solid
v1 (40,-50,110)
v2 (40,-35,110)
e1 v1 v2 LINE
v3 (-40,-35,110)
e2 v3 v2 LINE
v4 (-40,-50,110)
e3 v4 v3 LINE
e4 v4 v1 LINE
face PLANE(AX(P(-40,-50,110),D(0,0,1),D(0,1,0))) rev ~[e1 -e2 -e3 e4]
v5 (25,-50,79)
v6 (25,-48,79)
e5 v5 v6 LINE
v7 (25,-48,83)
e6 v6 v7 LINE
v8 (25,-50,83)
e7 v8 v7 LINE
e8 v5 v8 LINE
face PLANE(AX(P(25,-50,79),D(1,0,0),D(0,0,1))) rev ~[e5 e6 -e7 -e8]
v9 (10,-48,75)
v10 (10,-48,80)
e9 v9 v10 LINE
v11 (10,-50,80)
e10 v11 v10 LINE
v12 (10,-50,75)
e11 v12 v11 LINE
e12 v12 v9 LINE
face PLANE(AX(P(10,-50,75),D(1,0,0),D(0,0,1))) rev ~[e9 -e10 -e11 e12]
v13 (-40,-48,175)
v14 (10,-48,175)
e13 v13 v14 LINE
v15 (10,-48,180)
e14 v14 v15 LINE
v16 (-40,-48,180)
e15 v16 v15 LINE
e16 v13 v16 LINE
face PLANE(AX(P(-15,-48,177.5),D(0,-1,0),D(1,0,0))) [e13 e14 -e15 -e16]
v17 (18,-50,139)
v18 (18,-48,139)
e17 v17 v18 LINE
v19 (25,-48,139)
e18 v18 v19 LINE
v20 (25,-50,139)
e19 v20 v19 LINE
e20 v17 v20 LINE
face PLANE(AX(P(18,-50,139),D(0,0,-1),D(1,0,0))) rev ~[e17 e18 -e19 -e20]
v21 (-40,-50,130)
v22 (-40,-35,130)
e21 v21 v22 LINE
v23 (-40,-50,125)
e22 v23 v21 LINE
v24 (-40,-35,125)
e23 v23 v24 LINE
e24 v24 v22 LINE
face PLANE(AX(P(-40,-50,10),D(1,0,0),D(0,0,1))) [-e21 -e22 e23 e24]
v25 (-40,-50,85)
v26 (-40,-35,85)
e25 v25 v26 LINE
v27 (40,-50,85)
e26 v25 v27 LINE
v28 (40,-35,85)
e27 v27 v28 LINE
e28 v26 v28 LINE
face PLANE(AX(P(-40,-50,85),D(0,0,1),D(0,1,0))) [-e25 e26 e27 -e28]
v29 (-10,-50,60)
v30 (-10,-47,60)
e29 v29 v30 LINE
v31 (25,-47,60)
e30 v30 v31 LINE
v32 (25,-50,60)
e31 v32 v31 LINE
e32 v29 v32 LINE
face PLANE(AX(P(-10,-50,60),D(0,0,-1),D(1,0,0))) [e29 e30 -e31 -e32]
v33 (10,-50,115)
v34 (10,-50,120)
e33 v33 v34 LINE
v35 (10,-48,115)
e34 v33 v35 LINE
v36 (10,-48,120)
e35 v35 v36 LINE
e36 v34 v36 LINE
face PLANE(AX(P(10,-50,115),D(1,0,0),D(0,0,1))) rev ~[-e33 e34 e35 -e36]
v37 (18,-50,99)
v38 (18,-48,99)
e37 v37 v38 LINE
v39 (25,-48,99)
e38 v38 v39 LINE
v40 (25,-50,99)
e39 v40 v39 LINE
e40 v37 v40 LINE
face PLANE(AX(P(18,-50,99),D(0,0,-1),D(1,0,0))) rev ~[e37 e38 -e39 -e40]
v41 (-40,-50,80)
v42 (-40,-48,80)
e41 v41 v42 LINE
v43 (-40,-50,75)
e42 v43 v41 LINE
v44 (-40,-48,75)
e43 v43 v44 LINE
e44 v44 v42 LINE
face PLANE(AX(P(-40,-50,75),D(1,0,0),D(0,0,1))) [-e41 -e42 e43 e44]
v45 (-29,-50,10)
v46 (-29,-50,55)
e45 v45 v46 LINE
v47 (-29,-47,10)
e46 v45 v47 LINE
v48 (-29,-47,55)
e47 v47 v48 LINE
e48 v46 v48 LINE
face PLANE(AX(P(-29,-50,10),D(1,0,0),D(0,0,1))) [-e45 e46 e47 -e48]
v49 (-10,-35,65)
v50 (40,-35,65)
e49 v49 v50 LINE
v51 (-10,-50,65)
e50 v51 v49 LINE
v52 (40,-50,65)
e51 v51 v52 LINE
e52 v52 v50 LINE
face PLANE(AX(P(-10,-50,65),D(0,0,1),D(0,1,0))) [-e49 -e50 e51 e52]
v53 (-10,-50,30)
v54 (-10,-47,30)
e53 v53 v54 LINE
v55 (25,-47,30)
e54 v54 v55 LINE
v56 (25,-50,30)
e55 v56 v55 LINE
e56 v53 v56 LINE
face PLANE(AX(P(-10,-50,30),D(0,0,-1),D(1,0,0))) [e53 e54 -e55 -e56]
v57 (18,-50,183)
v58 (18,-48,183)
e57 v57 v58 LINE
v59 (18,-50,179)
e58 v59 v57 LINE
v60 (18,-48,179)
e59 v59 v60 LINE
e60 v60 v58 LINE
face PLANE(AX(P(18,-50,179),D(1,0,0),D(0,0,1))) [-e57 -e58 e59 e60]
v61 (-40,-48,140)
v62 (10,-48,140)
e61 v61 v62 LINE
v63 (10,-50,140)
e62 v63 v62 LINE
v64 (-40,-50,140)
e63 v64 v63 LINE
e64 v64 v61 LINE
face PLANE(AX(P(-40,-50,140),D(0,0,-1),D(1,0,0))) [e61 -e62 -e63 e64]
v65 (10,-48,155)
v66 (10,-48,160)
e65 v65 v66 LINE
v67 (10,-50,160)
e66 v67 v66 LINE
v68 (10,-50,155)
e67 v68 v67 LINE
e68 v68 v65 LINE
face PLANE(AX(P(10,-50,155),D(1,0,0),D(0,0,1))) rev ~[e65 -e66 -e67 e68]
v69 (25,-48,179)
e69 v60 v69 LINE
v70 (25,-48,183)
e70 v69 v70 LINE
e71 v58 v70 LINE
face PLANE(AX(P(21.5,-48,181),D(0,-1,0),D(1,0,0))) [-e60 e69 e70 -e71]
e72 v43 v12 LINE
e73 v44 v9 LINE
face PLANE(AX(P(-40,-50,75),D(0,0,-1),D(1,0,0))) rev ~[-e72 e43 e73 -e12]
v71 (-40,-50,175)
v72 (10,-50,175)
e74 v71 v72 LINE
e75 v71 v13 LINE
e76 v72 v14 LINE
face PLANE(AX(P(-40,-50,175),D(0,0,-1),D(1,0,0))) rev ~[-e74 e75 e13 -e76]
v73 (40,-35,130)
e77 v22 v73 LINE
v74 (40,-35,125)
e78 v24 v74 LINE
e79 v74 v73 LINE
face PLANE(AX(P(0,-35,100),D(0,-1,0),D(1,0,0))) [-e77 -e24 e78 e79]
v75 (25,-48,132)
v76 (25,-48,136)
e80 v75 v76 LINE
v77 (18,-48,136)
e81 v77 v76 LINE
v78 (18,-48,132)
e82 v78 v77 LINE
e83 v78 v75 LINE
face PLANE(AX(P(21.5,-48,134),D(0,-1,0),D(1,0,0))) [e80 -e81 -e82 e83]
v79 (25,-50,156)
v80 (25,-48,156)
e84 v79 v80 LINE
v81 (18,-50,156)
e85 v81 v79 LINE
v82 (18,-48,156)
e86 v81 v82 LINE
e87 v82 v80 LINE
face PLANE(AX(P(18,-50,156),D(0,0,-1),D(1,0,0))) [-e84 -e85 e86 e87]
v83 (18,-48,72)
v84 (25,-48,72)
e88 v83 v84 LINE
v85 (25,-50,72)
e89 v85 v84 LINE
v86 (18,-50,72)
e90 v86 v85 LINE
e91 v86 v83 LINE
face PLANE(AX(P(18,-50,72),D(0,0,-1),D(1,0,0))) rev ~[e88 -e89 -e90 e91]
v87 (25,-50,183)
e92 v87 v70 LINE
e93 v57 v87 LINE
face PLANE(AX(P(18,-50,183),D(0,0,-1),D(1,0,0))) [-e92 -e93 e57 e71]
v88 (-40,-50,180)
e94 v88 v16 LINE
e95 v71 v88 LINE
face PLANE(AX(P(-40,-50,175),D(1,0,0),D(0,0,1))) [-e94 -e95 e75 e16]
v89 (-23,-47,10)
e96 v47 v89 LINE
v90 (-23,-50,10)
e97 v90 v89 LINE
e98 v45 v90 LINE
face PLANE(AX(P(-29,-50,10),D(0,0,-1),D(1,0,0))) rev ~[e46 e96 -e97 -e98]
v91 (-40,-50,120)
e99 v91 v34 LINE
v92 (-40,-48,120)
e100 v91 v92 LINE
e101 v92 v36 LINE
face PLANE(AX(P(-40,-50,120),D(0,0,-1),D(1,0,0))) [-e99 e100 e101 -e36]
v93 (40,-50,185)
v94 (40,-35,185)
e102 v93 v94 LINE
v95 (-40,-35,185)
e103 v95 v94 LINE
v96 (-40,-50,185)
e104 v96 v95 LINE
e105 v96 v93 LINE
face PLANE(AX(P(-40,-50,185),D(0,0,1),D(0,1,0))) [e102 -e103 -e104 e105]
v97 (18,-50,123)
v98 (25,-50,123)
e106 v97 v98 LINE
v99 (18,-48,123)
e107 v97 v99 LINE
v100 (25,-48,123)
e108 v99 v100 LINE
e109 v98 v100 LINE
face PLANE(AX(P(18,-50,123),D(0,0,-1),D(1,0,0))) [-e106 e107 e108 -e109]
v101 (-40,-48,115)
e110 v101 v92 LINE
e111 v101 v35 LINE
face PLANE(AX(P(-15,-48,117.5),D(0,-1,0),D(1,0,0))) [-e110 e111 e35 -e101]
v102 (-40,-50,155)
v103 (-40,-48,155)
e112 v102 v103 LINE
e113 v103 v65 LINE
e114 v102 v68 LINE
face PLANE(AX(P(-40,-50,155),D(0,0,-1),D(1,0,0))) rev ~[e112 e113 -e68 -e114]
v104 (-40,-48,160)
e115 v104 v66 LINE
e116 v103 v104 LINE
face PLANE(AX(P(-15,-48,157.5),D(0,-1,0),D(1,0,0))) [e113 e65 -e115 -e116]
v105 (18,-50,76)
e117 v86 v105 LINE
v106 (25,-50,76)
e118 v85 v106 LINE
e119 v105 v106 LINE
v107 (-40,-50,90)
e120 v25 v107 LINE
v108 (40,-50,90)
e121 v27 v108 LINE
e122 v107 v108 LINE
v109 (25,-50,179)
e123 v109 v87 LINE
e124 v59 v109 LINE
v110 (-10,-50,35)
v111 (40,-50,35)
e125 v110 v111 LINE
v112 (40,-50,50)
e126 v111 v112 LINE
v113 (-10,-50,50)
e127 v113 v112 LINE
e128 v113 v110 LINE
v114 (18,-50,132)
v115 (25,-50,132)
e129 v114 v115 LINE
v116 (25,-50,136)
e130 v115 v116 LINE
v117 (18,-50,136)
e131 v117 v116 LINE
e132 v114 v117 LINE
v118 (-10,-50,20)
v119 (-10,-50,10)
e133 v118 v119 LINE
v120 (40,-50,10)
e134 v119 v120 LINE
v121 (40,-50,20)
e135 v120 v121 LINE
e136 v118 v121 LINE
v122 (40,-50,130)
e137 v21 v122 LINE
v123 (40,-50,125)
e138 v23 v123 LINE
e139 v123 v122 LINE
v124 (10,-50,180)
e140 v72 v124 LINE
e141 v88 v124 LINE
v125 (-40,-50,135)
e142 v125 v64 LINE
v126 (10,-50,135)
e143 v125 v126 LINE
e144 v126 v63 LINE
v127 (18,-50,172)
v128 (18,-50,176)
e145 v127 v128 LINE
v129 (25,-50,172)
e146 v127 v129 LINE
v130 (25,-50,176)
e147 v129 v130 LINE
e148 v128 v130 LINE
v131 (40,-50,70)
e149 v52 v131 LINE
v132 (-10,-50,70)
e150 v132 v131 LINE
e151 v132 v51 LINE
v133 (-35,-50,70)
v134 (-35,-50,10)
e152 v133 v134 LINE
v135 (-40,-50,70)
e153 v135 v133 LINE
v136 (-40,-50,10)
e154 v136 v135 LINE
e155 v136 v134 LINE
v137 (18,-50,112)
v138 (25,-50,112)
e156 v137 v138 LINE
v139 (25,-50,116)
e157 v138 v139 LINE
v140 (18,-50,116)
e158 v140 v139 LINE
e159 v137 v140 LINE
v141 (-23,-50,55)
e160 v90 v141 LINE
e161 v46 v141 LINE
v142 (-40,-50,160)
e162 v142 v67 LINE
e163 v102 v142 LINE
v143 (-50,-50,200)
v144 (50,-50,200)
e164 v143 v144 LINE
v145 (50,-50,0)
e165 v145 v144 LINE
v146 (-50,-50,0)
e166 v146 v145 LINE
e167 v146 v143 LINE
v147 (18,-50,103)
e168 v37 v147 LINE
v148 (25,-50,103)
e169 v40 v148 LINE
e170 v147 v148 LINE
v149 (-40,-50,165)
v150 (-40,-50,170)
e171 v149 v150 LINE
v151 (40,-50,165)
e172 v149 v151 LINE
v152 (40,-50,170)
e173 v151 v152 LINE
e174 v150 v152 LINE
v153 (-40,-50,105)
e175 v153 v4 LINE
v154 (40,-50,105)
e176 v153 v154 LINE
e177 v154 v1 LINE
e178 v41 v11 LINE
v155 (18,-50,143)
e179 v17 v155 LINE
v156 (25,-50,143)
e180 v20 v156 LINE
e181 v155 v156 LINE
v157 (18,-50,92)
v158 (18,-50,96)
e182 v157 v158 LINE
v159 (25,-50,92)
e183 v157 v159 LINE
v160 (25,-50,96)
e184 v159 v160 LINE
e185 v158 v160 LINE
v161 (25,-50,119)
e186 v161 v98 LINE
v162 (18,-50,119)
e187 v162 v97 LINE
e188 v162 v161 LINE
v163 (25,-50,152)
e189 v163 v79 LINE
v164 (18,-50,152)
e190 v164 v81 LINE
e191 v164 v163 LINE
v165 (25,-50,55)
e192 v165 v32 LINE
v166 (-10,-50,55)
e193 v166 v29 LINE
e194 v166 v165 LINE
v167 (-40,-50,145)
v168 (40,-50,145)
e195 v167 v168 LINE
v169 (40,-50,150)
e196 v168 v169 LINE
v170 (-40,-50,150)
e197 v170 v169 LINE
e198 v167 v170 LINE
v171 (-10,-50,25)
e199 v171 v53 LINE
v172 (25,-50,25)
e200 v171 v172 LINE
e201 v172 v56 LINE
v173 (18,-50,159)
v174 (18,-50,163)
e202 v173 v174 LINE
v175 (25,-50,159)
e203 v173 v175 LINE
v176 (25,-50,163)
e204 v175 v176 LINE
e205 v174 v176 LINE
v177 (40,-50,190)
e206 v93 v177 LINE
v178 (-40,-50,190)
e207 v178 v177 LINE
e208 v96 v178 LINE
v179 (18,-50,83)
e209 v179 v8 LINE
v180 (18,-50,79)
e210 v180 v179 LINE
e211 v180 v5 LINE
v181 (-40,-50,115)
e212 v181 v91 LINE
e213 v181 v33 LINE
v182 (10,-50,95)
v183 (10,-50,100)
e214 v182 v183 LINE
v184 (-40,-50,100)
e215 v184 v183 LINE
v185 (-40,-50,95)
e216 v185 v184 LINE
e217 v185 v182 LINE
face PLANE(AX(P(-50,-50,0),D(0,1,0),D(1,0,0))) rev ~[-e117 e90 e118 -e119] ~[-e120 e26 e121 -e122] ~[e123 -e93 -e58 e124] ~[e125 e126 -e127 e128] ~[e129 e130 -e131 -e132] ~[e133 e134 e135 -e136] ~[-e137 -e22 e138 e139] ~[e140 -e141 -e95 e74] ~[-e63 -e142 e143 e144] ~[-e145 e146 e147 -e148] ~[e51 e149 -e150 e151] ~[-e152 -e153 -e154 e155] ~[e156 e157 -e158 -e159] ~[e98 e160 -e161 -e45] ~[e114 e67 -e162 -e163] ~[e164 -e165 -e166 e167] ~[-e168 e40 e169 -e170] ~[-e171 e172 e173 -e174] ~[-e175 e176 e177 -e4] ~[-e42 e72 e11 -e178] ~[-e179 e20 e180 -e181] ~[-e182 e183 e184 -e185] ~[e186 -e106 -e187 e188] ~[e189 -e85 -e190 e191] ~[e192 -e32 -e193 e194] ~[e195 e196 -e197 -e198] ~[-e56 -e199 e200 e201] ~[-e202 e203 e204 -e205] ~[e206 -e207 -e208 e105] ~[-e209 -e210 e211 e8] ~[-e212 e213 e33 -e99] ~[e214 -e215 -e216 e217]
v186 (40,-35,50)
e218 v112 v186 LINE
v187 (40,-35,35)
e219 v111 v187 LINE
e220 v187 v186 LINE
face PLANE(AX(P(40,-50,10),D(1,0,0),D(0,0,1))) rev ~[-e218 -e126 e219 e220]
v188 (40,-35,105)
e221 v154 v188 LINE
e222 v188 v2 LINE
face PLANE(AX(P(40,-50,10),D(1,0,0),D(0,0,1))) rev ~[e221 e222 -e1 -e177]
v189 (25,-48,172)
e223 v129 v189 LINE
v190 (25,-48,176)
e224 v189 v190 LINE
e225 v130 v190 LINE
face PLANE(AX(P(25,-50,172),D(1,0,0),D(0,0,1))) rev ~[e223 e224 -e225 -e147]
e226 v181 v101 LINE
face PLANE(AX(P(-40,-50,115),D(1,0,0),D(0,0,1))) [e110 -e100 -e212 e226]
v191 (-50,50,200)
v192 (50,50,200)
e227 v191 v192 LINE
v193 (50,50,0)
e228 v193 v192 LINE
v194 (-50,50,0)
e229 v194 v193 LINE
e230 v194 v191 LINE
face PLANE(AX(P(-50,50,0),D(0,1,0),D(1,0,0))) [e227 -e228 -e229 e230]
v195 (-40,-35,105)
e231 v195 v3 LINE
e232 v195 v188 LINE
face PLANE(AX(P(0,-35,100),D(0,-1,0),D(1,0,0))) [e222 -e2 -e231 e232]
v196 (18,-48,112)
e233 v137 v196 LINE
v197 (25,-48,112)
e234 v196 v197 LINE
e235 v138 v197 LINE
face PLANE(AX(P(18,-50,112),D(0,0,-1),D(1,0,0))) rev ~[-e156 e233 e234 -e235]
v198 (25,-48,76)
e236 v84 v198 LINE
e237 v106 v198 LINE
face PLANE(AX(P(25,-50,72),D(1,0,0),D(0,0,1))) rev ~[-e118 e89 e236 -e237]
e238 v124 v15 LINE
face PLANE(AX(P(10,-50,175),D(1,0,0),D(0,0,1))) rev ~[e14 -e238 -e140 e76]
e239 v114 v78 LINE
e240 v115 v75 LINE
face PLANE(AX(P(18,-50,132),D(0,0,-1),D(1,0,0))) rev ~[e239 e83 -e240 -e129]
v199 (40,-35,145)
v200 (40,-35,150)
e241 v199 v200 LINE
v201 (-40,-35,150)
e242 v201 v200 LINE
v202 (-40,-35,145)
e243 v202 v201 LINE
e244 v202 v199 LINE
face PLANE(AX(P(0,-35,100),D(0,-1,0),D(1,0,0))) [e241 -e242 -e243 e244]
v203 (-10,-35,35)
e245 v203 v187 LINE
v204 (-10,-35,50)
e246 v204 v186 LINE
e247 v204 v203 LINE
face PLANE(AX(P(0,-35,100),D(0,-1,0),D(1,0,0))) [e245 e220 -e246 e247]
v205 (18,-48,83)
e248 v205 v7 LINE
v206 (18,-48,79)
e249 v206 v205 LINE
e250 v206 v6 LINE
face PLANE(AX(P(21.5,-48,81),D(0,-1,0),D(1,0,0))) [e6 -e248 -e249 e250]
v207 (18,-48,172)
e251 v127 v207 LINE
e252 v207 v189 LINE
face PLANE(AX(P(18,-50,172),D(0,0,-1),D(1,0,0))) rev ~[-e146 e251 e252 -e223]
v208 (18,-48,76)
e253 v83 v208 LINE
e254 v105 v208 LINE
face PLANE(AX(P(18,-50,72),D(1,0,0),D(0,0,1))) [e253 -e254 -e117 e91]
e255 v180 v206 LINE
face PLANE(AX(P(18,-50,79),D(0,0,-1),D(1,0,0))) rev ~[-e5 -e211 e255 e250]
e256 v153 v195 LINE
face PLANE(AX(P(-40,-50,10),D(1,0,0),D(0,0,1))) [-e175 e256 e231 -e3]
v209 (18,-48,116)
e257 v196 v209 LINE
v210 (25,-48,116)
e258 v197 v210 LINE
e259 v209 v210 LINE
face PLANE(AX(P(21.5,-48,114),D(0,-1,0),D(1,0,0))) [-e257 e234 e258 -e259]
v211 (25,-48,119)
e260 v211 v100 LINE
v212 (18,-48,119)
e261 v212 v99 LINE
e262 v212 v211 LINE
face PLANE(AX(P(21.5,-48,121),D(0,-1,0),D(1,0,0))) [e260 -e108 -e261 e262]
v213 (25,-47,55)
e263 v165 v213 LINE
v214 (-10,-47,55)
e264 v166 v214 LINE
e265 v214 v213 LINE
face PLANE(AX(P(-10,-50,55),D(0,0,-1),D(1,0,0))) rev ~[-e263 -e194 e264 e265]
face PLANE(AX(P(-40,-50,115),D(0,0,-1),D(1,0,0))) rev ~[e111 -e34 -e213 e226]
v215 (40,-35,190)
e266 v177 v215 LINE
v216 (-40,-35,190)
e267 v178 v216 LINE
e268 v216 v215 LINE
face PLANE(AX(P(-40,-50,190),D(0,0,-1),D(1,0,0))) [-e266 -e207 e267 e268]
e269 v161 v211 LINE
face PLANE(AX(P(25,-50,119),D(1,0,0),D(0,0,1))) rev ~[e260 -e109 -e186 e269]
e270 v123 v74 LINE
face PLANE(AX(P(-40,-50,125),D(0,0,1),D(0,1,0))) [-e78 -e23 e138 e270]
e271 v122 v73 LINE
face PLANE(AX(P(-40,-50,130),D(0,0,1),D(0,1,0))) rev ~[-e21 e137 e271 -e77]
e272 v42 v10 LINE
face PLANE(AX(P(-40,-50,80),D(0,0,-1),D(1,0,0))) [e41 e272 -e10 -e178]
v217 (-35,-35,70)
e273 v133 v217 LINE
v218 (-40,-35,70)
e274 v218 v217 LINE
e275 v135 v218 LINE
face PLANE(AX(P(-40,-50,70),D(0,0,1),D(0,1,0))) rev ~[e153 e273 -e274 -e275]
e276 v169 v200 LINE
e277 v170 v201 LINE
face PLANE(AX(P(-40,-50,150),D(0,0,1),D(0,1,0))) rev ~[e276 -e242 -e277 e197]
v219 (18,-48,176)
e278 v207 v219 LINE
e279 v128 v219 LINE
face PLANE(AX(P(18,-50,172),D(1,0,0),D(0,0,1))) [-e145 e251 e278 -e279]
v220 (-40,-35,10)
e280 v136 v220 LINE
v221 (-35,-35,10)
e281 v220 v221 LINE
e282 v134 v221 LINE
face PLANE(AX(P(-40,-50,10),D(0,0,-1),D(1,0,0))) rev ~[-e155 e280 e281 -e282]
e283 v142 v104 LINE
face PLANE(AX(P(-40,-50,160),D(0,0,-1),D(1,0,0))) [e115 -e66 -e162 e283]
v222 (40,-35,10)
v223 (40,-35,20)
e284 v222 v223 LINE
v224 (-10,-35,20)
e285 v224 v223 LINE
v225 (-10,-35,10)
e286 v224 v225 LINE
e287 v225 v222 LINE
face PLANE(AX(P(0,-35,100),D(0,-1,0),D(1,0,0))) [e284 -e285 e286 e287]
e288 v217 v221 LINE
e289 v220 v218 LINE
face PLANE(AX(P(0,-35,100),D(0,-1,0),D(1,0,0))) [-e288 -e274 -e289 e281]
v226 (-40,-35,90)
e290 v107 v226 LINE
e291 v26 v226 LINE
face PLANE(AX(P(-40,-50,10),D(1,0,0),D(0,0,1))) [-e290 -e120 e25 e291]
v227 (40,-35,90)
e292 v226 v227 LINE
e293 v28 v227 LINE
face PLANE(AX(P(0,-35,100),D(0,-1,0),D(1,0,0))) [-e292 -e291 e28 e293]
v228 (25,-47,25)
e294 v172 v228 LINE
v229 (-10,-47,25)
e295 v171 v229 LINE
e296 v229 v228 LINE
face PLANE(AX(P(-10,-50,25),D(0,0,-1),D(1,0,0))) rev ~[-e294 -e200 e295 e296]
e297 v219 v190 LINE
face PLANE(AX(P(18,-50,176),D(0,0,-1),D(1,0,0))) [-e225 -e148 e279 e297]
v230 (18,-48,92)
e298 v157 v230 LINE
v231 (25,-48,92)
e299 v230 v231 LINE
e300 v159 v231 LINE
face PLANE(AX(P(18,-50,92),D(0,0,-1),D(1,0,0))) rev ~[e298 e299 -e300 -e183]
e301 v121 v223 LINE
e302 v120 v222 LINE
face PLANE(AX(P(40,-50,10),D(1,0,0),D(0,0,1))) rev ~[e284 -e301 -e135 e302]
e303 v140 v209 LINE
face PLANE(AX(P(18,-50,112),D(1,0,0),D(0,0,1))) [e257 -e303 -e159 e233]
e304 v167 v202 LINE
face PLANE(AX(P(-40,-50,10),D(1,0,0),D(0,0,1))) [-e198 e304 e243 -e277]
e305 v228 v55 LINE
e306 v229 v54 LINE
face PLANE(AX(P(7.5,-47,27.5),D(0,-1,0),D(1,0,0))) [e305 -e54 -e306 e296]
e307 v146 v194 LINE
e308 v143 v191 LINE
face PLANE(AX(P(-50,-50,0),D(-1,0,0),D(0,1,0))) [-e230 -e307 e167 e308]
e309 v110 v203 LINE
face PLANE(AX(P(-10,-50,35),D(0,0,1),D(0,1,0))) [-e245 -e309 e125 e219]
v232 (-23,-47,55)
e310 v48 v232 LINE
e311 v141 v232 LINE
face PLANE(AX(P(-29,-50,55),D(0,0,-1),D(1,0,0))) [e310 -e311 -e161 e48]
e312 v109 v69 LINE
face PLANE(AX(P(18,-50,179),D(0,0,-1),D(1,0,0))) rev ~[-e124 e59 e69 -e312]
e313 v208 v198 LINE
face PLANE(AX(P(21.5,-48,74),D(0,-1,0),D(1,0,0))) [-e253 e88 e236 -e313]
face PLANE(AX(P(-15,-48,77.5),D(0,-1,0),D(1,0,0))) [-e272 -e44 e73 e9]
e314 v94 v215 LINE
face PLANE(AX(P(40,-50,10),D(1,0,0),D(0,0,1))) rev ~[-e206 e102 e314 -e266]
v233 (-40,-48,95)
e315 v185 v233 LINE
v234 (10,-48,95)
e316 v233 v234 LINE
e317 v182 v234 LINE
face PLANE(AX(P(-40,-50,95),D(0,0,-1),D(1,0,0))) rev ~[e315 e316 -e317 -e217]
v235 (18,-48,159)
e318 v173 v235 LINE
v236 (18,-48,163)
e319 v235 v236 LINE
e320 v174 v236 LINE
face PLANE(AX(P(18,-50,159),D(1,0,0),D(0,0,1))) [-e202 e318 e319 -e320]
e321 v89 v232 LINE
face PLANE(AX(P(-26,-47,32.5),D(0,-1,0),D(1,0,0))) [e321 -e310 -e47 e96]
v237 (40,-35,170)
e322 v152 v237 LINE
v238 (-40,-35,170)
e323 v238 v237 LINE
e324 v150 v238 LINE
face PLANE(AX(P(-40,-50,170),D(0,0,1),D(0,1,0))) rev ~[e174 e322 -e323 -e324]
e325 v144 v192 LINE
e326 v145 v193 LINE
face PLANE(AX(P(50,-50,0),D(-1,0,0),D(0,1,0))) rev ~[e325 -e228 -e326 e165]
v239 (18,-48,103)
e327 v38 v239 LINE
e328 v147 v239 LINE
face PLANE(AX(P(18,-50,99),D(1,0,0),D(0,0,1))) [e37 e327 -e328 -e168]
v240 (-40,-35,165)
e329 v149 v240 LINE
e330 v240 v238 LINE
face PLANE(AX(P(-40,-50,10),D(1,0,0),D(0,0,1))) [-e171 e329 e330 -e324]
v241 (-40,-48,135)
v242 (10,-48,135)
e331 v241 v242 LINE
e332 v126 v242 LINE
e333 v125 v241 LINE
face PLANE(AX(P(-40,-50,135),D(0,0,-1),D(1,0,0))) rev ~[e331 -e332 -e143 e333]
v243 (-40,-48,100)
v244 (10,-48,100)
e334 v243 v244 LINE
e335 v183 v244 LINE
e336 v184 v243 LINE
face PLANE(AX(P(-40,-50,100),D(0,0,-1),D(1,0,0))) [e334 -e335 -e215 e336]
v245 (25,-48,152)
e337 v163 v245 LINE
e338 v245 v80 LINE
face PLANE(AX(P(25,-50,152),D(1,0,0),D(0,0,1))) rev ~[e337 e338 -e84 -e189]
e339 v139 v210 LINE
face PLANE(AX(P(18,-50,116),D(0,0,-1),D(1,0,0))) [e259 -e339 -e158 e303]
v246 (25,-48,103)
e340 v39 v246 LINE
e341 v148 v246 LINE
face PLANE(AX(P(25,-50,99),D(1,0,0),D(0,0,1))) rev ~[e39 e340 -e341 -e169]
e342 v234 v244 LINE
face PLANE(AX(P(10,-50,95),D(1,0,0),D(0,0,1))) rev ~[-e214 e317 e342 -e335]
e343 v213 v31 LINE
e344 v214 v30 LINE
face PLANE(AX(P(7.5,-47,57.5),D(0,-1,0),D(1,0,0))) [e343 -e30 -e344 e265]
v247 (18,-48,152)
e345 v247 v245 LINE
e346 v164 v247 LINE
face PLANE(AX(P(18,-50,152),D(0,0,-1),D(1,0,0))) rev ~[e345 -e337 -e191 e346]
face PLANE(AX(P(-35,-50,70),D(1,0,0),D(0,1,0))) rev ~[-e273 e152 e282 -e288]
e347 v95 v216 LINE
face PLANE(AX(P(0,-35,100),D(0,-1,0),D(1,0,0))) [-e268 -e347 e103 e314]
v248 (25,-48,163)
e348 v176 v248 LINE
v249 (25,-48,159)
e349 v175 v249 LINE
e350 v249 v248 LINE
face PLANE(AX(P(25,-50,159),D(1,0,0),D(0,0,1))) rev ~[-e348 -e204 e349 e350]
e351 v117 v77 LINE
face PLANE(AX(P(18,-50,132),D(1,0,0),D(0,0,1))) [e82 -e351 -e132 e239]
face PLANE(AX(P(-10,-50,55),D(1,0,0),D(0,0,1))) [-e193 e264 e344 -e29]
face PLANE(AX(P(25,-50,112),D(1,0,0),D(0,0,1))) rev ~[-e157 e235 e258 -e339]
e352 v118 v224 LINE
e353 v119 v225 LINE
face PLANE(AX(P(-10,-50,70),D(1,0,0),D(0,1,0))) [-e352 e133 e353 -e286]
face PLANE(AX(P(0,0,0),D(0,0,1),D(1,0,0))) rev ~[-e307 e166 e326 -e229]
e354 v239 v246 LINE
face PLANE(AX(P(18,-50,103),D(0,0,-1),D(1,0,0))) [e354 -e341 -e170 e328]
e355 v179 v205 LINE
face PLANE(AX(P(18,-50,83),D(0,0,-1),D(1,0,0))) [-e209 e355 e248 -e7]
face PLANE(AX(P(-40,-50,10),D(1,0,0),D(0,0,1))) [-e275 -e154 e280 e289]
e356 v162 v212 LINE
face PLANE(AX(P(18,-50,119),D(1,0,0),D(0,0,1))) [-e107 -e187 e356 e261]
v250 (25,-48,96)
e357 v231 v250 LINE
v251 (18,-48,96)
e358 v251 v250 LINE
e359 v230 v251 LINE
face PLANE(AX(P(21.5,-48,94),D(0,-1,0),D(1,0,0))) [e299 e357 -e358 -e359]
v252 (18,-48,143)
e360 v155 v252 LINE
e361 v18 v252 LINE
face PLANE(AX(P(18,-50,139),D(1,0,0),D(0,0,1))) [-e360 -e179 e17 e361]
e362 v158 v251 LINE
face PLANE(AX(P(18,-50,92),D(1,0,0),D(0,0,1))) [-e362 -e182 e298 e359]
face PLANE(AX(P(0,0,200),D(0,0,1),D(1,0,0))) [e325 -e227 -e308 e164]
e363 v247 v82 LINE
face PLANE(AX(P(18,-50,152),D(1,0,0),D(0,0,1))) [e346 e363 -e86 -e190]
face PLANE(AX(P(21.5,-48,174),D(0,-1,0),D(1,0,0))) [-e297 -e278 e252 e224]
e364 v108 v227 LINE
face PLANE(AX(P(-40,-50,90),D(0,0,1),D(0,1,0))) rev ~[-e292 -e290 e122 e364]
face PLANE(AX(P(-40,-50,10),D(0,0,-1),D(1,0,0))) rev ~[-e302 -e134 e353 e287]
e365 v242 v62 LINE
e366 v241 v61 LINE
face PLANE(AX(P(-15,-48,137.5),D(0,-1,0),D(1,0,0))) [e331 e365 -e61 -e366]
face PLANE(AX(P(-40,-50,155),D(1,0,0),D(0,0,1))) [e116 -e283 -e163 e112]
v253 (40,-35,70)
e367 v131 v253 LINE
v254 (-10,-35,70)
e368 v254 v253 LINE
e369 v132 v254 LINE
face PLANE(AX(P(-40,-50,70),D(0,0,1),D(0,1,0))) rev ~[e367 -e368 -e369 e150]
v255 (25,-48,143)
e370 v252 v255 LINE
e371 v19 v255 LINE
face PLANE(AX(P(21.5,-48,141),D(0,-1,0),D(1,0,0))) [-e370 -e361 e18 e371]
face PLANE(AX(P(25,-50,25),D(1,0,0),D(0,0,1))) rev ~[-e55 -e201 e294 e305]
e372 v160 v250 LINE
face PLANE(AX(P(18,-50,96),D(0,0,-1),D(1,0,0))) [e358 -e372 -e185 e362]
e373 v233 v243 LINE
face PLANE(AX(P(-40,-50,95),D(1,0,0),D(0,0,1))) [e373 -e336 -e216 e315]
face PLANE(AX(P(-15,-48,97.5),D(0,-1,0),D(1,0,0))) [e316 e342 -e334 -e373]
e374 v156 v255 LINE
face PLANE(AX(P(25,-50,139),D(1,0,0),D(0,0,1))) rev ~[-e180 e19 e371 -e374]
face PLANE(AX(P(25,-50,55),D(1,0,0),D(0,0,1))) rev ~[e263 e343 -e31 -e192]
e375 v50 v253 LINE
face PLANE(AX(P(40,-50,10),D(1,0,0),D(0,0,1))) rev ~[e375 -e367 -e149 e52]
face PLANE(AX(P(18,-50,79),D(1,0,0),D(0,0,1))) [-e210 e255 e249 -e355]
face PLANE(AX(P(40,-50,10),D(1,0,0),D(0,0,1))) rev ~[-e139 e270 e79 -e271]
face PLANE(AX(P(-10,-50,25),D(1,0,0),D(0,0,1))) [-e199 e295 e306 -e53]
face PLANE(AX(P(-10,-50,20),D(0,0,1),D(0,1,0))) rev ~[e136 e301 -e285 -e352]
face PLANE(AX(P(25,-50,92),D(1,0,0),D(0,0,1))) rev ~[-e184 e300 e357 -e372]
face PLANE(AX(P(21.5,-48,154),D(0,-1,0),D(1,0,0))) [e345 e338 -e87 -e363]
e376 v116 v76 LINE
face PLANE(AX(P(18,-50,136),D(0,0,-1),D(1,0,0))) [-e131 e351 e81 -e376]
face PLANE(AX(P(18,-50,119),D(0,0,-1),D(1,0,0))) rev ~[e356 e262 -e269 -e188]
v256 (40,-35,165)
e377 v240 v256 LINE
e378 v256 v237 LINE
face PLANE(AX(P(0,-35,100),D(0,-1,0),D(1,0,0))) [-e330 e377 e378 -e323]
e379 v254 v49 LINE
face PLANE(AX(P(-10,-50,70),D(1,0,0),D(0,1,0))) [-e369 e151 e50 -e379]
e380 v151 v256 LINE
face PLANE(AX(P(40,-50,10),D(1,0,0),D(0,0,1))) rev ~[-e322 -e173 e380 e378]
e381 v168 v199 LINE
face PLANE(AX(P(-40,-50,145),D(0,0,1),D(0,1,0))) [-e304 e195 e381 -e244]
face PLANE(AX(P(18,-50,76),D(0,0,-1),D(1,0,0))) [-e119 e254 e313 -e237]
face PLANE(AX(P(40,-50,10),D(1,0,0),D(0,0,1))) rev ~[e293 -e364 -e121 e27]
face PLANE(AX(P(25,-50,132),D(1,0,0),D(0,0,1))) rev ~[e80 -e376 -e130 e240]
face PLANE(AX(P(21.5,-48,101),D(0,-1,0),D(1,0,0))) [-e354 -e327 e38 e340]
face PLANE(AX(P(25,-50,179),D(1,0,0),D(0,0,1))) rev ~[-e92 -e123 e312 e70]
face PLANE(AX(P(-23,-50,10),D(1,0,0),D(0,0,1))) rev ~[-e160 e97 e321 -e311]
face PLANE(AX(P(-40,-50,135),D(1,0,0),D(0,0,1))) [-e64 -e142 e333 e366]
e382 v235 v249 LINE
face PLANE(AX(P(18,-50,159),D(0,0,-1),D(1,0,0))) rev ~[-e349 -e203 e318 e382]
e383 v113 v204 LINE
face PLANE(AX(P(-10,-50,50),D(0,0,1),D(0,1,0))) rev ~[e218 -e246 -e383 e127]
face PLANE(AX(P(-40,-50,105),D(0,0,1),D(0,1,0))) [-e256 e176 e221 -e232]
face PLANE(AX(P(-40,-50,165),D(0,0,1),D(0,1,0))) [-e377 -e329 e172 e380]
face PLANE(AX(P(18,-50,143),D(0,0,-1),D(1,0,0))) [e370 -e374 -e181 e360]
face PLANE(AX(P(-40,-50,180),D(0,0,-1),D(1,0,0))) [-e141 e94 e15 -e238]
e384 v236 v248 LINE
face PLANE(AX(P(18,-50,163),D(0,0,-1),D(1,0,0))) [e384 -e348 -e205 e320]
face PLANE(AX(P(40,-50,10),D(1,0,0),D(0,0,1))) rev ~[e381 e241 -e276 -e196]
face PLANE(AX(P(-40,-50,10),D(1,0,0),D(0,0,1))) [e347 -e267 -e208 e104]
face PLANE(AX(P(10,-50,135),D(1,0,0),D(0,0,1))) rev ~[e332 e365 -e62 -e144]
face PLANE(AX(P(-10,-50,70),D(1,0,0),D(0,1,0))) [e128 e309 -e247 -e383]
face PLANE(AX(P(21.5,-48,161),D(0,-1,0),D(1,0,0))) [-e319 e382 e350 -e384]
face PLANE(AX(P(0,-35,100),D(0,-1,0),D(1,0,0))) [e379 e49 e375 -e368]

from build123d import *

# Parameters (mm, degrees)
ESQUISSE1_W                = 100
ESQUISSE1_H                = 100
BOSS_EXTRU_1_DEPTH         = 200
ESQUISSE2_W                = 80
ESQUISSE2_H                = 180
ENL_V_MAT_EXTRU_1_DEPTH    = 15
ESQUISSE3_W                = 15
ESQUISSE3_H                = 15
BOSS_EXTRU_2_DEPTH         = 80
R_P_TITION_LIN_AIRE1_COUNT = 6
R_P_TITION_LIN_AIRE1_PITCH = 20
ESQUISSE4_W                = 50
ESQUISSE4_H                = 5
ESQUISSE4_W_2              = 7
ESQUISSE4_H_2              = 4
ENL_V_MAT_EXTRU_2_DEPTH    = 2
R_P_TITION_LIN_AIRE2_COUNT = 6
R_P_TITION_LIN_AIRE2_PITCH = 20
ESQUISSE5_W                = 25
ESQUISSE5_H                = 15
BOSS_EXTRU_3_DEPTH         = 60
ESQUISSE6_W                = 15
ESQUISSE6_H                = 15
BOSS_EXTRU_4_DEPTH         = 50
R_P_TITION_LIN_AIRE3_COUNT = 2
R_P_TITION_LIN_AIRE3_PITCH = 30
ESQUISSE7_W                = 6
ESQUISSE7_H                = 45
ESQUISSE7_W_2              = 35
ESQUISSE7_H_2              = 5
ENL_V_MAT_EXTRU_3_DEPTH    = 3


with BuildPart() as part:
    # Esquisse1 → Boss.-Extru.1 (new body)
    with BuildSketch(Plane.XY):
        Rectangle(ESQUISSE1_W, ESQUISSE1_H)
    extrude(amount=BOSS_EXTRU_1_DEPTH)

    # Esquisse2 → Enlèv. mat.-Extru.1 (cut)
    with BuildSketch(Plane.XZ.offset(50)):
        with Locations((0, 100)):
            Rectangle(ESQUISSE2_W, ESQUISSE2_H)
    extrude(amount=-ENL_V_MAT_EXTRU_1_DEPTH, mode=Mode.SUBTRACT)

    # Esquisse3 → Boss.-Extru.2 (add)
    with BuildSketch(Plane(origin=(-40, 0, 0), x_dir=(0, 0, -1), z_dir=(1, 0, 0))):
        with Locations((-177.5, -42.5)):
            Rectangle(ESQUISSE3_W, ESQUISSE3_H)
    boss_extru_2 = extrude(amount=BOSS_EXTRU_2_DEPTH)

    # Répétition linéaire1: Boss.-Extru.2 ×6
    with Locations(*[(0, 0, -i * R_P_TITION_LIN_AIRE1_PITCH) for i in range(1, R_P_TITION_LIN_AIRE1_COUNT)]):
        add(boss_extru_2)

    # Esquisse4 → Enlèv. mat.-Extru.2 (cut)
    with BuildSketch(Plane.XZ.offset(50)):
        with Locations((-15, 177.5)):
            Rectangle(ESQUISSE4_W, ESQUISSE4_H)
        with Locations((21.5, 181)):
            Rectangle(ESQUISSE4_W_2, ESQUISSE4_H_2)
        with Locations((21.5, 174)):
            Rectangle(ESQUISSE4_W_2, ESQUISSE4_H_2)
    enl_v_mat_extru_2 = extrude(amount=-ENL_V_MAT_EXTRU_2_DEPTH, mode=Mode.SUBTRACT)

    # Répétition linéaire2: Enlèv. mat.-Extru.2 ×6
    with Locations(*[(0, 0, -i * R_P_TITION_LIN_AIRE2_PITCH) for i in range(1, R_P_TITION_LIN_AIRE2_COUNT)]):
        add(enl_v_mat_extru_2, mode=Mode.SUBTRACT)

    # Esquisse5 → Boss.-Extru.3 (add)
    with BuildSketch(Plane(origin=(0, 0, 70), x_dir=(-1, 0, 0), z_dir=(0, 0, -1))):
        with Locations((22.5, -42.5)):
            Rectangle(ESQUISSE5_W, ESQUISSE5_H)
    extrude(amount=BOSS_EXTRU_3_DEPTH)

    # Esquisse6 → Boss.-Extru.4 (add)
    with BuildSketch(Plane(origin=(-10, 0, 0), x_dir=(0, 0, -1), z_dir=(1, 0, 0))):
        with Locations((-57.5, -42.5)):
            Rectangle(ESQUISSE6_W, ESQUISSE6_H)
    boss_extru_4 = extrude(amount=BOSS_EXTRU_4_DEPTH)

    # Répétition linéaire3: Boss.-Extru.4 ×2
    with Locations(*[(0, 0, -i * R_P_TITION_LIN_AIRE3_PITCH) for i in range(1, R_P_TITION_LIN_AIRE3_COUNT)]):
        add(boss_extru_4)

    # Esquisse7 → Enlèv. mat.-Extru.3 (cut)
    with BuildSketch(Plane.XZ.offset(50)):
        with Locations((-26, 32.5)):
            Rectangle(ESQUISSE7_W, ESQUISSE7_H)
        with Locations((7.5, 57.5)):
            Rectangle(ESQUISSE7_W_2, ESQUISSE7_H_2)
        with Locations((7.5, 27.5)):
            Rectangle(ESQUISSE7_W_2, ESQUISSE7_H_2)
    extrude(amount=-ENL_V_MAT_EXTRU_3_DEPTH, mode=Mode.SUBTRACT)


solid = part.part
